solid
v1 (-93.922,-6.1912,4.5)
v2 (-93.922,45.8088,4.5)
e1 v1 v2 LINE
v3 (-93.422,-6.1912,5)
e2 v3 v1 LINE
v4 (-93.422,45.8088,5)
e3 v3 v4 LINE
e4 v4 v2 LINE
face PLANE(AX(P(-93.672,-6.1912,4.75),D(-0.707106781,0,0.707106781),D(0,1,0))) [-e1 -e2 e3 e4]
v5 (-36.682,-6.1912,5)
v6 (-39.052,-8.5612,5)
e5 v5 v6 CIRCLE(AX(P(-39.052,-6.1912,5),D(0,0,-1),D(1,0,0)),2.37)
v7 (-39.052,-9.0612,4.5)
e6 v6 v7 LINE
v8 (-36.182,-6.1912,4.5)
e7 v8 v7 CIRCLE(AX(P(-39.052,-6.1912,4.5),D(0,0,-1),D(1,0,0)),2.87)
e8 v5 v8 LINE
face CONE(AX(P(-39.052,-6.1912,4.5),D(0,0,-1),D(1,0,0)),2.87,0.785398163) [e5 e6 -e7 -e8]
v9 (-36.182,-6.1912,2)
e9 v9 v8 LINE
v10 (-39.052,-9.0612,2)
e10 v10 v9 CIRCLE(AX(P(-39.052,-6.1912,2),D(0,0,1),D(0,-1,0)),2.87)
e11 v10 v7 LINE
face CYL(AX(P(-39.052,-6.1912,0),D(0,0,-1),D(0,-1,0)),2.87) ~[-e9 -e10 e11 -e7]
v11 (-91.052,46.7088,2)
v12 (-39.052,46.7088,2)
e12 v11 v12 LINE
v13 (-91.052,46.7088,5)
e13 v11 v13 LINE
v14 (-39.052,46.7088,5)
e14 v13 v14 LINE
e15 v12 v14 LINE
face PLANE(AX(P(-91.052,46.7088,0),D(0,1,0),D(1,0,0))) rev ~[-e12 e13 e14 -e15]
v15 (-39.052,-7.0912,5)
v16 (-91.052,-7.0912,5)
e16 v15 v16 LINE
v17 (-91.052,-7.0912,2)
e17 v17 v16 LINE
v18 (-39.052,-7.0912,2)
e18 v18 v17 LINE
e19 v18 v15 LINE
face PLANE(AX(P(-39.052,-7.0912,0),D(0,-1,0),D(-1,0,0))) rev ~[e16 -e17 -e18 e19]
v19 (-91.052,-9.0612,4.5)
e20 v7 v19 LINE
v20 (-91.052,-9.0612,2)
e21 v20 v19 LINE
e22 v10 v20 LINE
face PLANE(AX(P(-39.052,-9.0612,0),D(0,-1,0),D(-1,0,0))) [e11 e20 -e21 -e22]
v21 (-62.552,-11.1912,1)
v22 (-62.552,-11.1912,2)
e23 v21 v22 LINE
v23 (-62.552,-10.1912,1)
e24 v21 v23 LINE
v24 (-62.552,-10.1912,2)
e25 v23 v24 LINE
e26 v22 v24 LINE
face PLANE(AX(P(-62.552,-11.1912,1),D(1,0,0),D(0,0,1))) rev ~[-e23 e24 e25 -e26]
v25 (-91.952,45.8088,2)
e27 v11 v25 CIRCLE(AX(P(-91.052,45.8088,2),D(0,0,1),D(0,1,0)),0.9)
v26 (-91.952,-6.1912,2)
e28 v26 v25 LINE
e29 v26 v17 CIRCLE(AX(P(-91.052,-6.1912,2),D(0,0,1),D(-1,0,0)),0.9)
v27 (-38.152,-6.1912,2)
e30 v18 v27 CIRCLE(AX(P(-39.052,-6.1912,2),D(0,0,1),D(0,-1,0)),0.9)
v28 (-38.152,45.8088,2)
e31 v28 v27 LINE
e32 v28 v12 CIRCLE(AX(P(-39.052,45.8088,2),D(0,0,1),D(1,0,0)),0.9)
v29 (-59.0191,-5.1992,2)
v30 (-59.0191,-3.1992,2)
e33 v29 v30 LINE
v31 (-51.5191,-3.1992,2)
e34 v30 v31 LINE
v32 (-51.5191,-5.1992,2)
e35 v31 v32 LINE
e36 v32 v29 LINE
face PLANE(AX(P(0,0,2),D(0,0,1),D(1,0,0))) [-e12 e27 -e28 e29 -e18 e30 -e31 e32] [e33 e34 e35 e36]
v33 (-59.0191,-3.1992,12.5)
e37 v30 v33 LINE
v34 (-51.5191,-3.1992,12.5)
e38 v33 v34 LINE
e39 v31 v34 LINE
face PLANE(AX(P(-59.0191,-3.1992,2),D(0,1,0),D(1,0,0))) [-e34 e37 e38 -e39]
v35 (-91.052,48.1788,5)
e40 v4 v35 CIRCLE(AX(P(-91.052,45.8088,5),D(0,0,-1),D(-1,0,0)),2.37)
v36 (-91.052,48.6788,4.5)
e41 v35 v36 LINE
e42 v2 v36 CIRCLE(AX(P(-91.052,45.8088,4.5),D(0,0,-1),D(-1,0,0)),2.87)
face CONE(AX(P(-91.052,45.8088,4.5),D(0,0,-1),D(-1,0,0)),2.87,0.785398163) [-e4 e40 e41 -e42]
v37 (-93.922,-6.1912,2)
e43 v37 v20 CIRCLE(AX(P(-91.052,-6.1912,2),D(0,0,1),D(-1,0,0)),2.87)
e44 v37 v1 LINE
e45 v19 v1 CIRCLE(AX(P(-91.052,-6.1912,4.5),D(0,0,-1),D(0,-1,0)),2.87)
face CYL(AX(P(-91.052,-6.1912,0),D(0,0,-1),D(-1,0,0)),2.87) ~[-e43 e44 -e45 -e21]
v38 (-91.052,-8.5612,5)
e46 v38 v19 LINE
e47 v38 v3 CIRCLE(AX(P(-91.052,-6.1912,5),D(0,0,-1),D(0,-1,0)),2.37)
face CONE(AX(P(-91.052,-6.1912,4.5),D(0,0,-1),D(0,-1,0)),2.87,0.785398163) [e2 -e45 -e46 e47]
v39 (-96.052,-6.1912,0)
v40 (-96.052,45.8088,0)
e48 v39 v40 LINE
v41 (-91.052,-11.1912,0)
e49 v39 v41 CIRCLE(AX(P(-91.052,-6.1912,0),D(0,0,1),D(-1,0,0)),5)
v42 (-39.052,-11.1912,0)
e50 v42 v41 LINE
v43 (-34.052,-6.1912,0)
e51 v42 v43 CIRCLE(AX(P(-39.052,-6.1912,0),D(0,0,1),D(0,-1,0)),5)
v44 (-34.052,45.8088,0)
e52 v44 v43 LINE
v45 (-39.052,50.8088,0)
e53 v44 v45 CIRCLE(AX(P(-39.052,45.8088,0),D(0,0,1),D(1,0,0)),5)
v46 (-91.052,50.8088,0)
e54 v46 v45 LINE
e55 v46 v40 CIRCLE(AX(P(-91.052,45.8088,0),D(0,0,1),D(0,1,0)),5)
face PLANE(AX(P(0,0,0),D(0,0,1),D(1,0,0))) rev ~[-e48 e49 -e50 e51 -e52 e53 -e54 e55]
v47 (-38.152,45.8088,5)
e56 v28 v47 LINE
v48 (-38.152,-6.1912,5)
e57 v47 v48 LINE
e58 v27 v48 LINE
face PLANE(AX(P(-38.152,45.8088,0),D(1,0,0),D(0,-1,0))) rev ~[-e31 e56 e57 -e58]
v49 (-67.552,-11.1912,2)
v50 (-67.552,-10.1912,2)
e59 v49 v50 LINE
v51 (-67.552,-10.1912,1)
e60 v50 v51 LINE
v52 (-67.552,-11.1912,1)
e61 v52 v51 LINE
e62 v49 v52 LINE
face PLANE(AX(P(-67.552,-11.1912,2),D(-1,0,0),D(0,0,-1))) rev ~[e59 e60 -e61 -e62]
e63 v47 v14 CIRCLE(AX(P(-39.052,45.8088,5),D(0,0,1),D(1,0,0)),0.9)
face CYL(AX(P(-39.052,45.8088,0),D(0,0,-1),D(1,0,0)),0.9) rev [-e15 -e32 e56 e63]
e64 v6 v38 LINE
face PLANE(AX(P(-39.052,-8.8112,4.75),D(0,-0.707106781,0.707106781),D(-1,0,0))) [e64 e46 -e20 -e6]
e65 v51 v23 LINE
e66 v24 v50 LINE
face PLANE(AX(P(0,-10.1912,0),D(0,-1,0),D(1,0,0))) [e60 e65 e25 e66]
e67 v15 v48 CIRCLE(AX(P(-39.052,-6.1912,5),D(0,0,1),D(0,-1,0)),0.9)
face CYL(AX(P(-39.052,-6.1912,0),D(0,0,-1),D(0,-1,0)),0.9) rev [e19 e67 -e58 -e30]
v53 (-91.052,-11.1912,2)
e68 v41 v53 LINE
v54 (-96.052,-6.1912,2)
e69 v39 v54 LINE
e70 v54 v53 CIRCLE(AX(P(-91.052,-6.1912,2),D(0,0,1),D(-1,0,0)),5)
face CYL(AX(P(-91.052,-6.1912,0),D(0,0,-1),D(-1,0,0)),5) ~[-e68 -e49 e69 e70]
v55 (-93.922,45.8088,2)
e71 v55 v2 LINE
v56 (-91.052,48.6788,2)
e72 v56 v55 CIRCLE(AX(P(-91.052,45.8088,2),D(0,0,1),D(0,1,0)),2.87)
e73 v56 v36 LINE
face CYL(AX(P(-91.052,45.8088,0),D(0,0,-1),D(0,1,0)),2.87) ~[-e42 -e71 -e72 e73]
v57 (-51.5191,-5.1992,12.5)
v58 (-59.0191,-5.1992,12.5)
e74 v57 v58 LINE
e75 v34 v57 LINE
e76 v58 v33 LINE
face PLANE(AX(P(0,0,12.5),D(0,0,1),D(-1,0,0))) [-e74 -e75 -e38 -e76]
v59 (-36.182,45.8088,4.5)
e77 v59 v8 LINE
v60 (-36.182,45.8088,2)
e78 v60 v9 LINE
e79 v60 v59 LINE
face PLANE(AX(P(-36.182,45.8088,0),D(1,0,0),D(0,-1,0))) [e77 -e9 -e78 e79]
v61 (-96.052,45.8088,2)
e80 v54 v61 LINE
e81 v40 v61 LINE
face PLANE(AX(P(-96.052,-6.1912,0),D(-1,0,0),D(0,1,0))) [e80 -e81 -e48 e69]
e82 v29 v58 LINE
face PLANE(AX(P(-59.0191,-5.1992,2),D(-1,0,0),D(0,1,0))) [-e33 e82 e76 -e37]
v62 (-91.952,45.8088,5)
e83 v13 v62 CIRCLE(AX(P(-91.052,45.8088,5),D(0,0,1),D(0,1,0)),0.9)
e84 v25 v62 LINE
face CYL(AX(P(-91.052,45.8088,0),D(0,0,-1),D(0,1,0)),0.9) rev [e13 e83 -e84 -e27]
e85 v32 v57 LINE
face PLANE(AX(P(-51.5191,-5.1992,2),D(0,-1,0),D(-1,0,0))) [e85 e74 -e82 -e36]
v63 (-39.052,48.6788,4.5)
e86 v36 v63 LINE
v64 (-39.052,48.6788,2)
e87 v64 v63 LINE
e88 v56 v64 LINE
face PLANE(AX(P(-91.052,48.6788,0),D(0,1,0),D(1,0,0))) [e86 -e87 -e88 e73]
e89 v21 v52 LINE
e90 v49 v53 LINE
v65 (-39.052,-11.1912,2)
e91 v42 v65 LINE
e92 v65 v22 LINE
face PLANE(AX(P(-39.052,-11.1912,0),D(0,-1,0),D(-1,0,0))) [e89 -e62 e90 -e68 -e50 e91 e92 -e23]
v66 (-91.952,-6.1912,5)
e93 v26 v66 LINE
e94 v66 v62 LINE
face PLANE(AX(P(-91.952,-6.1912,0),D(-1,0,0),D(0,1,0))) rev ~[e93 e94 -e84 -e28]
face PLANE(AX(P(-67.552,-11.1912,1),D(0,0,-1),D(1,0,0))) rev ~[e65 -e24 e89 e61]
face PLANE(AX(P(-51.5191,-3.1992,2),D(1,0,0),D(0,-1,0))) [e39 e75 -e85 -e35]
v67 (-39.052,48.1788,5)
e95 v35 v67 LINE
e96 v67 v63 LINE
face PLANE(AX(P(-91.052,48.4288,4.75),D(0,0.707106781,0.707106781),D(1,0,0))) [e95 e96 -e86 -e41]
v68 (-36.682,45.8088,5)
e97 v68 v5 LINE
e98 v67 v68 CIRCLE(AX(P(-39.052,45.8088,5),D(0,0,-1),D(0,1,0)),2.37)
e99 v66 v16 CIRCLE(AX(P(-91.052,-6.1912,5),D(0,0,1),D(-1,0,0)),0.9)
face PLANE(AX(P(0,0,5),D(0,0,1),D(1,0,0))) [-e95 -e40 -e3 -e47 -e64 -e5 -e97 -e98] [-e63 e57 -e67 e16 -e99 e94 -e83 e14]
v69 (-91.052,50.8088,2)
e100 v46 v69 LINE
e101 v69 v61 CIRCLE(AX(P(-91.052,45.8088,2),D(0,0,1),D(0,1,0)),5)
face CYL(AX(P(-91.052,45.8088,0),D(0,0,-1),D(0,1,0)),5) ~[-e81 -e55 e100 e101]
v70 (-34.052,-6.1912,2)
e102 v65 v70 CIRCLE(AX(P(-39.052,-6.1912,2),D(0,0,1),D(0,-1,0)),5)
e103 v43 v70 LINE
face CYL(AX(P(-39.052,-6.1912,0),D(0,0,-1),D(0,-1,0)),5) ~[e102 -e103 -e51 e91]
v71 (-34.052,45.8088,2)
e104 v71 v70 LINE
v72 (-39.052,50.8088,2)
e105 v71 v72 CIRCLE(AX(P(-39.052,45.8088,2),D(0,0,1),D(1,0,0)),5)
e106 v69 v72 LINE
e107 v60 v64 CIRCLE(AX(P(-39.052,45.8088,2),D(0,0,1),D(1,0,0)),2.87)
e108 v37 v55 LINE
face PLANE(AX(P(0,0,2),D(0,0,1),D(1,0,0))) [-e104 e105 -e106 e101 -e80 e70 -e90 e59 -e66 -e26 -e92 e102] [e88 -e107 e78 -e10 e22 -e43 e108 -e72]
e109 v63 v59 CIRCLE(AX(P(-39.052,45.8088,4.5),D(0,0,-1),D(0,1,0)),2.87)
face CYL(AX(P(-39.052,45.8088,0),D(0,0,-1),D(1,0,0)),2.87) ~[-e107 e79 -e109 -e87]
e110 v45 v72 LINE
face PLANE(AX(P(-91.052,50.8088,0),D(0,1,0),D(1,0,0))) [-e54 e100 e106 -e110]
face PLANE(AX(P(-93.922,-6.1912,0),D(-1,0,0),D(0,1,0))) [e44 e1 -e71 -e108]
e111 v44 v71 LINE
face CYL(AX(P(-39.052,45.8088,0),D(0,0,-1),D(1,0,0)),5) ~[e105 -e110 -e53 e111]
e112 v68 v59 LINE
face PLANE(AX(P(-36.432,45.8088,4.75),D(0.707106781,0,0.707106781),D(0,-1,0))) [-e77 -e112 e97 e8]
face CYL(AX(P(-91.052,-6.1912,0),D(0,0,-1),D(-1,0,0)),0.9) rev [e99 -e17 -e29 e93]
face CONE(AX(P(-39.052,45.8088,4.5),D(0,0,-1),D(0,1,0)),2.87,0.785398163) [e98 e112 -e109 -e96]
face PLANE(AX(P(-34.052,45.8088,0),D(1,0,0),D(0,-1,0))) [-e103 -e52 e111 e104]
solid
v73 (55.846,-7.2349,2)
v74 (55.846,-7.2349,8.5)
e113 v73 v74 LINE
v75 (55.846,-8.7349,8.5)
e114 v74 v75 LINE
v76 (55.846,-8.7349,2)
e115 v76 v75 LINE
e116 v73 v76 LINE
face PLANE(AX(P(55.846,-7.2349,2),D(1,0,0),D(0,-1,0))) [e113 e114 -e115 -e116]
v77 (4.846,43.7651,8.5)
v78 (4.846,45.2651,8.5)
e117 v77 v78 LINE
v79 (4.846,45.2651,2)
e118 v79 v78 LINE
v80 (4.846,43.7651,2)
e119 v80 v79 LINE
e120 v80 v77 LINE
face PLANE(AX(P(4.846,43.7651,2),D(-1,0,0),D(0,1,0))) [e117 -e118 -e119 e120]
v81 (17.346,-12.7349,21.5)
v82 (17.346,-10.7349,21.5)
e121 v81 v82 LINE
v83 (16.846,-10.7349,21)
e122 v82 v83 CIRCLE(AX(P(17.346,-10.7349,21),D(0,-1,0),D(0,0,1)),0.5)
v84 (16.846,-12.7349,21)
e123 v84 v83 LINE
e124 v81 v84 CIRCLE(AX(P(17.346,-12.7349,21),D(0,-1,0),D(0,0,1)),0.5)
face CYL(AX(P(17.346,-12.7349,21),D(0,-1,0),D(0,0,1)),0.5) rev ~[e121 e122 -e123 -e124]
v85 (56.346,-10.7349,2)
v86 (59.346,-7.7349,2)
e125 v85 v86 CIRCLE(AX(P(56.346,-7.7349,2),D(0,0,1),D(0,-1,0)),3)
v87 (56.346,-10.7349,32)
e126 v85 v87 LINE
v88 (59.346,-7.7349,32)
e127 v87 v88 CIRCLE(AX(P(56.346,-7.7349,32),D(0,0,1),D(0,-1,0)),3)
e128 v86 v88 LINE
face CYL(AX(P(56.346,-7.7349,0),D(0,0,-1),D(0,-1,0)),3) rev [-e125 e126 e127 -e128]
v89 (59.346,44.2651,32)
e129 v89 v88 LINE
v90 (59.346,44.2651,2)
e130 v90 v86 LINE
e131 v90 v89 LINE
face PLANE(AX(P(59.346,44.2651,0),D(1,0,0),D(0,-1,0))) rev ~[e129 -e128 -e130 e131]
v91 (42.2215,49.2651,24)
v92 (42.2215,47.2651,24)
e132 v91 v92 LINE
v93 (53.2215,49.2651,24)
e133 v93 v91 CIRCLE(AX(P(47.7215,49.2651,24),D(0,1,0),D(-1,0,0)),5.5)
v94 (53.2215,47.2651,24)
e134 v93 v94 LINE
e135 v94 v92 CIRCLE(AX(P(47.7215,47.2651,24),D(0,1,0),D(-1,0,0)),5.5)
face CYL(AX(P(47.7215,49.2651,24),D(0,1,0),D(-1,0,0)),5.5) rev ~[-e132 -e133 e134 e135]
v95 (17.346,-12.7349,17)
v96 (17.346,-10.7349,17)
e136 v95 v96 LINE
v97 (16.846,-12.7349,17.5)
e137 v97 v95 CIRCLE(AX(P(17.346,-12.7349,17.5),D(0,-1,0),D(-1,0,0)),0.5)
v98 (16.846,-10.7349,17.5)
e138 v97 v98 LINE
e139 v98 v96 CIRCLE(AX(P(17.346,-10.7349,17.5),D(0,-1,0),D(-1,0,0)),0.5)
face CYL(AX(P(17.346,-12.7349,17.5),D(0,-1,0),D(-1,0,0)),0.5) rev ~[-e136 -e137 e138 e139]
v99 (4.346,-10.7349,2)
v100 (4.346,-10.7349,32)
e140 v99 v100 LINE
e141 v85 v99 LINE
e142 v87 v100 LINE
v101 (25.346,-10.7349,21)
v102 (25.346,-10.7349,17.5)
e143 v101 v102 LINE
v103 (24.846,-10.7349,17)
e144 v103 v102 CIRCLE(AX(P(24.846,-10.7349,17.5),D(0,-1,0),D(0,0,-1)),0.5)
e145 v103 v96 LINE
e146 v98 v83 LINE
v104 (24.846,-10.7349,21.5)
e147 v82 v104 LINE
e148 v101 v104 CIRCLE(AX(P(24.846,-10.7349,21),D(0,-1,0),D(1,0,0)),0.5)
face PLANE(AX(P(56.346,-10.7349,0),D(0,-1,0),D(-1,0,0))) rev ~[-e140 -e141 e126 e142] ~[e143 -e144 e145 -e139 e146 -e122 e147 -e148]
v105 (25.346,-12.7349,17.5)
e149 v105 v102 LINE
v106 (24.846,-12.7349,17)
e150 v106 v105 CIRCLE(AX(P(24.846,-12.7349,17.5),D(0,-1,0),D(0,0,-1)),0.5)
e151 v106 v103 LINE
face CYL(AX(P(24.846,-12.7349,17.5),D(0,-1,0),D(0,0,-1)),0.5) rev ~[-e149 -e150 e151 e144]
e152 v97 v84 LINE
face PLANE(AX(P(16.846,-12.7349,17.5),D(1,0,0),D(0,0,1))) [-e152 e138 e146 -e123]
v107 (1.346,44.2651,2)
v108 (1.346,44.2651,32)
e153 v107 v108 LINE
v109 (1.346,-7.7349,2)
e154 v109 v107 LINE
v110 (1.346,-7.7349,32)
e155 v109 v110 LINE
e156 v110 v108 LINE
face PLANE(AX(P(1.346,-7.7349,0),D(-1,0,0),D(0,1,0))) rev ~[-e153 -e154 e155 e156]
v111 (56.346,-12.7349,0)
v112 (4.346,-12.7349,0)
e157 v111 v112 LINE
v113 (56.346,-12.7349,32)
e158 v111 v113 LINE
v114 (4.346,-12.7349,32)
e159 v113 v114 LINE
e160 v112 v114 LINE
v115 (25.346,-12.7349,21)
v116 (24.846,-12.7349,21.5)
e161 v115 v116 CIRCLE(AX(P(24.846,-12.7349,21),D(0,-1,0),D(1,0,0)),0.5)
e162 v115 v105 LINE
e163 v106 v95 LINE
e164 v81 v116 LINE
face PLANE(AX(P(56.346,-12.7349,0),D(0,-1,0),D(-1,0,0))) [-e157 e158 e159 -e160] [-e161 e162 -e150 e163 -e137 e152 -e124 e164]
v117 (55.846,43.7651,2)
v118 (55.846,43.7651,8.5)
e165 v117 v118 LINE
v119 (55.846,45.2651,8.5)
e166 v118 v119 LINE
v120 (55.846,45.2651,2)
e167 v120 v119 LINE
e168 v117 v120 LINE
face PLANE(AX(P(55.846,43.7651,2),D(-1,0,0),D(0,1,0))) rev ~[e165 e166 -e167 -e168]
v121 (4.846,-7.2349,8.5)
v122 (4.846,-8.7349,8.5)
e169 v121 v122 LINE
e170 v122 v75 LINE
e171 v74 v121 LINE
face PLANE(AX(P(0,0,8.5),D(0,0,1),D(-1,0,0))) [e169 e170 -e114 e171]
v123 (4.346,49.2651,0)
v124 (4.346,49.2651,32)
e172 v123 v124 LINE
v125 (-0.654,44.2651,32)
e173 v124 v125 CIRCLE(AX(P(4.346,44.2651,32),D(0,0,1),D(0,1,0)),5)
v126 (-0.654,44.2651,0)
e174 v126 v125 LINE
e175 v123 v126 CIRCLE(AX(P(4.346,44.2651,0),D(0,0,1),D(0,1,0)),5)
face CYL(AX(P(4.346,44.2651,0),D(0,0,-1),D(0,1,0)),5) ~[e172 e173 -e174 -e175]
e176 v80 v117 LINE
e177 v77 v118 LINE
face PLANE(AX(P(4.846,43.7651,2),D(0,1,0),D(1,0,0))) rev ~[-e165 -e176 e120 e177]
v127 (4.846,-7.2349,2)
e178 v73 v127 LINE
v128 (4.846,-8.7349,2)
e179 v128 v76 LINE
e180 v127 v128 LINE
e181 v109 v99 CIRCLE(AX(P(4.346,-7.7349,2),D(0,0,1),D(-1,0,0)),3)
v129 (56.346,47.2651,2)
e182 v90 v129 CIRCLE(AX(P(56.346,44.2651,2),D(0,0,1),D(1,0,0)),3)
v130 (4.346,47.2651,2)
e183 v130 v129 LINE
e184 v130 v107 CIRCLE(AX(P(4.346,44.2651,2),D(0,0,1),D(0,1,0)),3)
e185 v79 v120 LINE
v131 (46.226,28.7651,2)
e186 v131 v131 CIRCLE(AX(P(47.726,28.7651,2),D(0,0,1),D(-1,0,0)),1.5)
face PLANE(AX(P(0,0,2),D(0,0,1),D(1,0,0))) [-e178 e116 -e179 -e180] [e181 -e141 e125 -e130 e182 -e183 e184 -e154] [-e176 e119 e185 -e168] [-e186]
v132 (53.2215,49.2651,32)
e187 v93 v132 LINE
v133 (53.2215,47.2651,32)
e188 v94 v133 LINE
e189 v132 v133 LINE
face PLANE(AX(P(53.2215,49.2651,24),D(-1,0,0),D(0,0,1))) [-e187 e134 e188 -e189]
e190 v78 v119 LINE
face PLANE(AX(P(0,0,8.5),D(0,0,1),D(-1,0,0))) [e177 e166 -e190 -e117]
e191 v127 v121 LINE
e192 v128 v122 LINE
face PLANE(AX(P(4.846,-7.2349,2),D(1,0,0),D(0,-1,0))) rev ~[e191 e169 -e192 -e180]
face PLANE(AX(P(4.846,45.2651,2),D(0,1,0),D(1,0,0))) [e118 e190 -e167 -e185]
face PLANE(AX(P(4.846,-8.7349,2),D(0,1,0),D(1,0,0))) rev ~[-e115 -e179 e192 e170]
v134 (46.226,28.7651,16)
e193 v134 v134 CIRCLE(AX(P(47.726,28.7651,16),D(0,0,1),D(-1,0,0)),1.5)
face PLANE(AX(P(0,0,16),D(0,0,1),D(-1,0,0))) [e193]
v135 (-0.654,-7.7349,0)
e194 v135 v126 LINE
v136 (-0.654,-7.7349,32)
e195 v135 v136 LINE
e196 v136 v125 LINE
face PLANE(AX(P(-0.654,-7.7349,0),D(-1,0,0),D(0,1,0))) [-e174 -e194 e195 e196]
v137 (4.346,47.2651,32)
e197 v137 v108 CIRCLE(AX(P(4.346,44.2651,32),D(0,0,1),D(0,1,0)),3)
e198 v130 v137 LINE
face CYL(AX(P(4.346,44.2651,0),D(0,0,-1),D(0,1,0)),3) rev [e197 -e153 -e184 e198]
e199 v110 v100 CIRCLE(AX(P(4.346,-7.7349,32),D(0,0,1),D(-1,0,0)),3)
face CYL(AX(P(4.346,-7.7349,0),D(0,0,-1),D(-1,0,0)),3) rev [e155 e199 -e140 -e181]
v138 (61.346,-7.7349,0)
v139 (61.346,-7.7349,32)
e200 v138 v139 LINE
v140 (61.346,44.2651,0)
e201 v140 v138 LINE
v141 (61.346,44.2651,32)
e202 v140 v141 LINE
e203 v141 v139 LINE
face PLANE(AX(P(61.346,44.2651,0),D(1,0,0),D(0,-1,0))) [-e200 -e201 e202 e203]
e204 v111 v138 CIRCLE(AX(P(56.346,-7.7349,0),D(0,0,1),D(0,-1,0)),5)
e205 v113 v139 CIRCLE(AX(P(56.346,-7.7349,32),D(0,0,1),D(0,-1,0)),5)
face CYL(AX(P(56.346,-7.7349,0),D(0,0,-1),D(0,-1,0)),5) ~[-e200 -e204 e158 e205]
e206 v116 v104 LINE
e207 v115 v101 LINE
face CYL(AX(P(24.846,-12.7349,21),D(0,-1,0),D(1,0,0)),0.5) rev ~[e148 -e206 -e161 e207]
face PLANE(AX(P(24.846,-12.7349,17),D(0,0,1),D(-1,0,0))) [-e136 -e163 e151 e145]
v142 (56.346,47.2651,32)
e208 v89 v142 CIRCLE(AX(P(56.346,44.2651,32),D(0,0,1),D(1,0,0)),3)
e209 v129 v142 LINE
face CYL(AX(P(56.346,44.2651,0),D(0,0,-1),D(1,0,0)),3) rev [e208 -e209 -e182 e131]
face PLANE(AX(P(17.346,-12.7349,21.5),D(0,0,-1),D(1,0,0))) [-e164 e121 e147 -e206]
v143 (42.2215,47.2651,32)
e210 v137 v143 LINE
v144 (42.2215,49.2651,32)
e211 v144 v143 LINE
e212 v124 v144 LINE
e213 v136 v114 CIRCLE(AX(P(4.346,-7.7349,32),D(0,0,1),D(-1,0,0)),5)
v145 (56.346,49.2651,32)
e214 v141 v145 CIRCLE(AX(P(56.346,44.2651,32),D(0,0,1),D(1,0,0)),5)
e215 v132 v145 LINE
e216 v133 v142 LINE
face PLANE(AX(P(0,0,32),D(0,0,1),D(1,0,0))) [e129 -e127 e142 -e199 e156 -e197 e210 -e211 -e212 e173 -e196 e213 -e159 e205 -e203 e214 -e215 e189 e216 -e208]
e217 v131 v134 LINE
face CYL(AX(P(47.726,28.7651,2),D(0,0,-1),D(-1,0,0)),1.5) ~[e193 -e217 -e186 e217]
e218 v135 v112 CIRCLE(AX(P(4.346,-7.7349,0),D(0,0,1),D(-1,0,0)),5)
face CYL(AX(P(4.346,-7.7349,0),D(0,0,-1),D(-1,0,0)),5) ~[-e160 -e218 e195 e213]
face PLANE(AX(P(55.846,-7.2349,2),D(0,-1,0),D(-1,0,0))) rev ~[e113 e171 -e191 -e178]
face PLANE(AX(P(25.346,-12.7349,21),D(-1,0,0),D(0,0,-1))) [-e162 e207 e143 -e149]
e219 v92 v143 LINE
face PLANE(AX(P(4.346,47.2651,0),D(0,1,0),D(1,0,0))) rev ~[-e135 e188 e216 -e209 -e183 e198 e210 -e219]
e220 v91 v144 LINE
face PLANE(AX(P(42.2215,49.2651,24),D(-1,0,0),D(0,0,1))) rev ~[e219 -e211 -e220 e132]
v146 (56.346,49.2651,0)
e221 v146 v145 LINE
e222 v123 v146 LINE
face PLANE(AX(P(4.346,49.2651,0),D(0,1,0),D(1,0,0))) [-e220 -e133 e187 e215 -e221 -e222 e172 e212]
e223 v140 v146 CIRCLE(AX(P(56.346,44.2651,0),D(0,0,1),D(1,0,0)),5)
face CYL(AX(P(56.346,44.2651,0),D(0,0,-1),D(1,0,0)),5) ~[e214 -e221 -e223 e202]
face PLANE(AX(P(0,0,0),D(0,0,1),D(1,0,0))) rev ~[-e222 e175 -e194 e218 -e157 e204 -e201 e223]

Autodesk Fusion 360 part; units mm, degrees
sketch "Skizze1" plane through (0, 0, 0) normal (0, 0, 1) x (1, 0, 0)
  line L0 (4.346, 49.2651) -> (56.346, 49.2651)
  line L1 (61.346, 44.2651) -> (61.346, -7.7349)
  line L2 (56.346, -12.7349) -> (4.346, -12.7349)
  line L3 (-0.654, -7.7349) -> (-0.654, 44.2651)
  arc A0 (4.346, 49.2651) -> (-0.654, 44.2651) centre (4.346, 44.2651) ccw
  arc A1 (61.346, 44.2651) -> (56.346, 49.2651) centre (56.346, 44.2651) ccw
  arc A2 (56.346, -12.7349) -> (61.346, -7.7349) centre (56.346, -7.7349) ccw
  arc A3 (-0.654, -7.7349) -> (4.346, -12.7349) centre (4.346, -7.7349) ccw
  arc A4 (59.346, 44.2651) -> (56.346, 47.2651) centre (56.346, 44.2651) ccw
  line L4 (4.346, 47.2651) -> (56.346, 47.2651)
  arc A5 (4.346, 47.2651) -> (1.346, 44.2651) centre (4.346, 44.2651) ccw
  line L5 (1.346, -7.7349) -> (1.346, 44.2651)
  arc A6 (1.346, -7.7349) -> (4.346, -10.7349) centre (4.346, -7.7349) ccw
  line L6 (56.346, -10.7349) -> (4.346, -10.7349)
  arc A7 (56.346, -10.7349) -> (59.346, -7.7349) centre (56.346, -7.7349) ccw
  line L7 (59.346, 44.2651) -> (59.346, -7.7349)
  point P0 (-0.654, 49.2651)
  point P1 (61.346, 49.2651)
  point P2 (-0.654, -12.7349)
  dimension "d1" = 62
  dimension "d2" = 62
  dimension "d3" = 5
  dimension "d4" = 5
  dimension "d5" = 2
extrude "Extrusion1" add sketch "Skizze1" along normal blind 2 contours A4 L4 A5 L5 A6 L6 A7 L7 makes body 1
extrude "Extrusion2" add sketch "Skizze1" along normal blind 32 bodies 1
sketch "Skizze2" plane through (0, 0, 2) normal (0, 0, 1) x (-1, 0, 0)
  arc A0 (-4.346, -47.2651) -> (-1.346, -44.2651) centre (-4.346, -44.2651) ccw
  line L0 (-1.346, -44.2651) -> (-1.346, 7.7349)
  arc A1 (-1.346, 7.7349) -> (-4.346, 10.7349) centre (-4.346, 7.7349) ccw
  line L1 (-4.346, 10.7349) -> (-56.346, 10.7349)
  arc A2 (-56.346, 10.7349) -> (-59.346, 7.7349) centre (-56.346, 7.7349) ccw
  line L2 (-59.346, 7.7349) -> (-59.346, -44.2651)
  arc A3 (-59.346, -44.2651) -> (-56.346, -47.2651) centre (-56.346, -44.2651) ccw
  line L3 (-56.346, -47.2651) -> (-4.346, -47.2651)
  line L4 (-30.346, -44.2651) -> (-30.346, 7.7349) construction
  line L5 (-55.846, 7.2349) -> (-4.846, 7.2349)
  line L6 (-4.846, -43.7651) -> (-55.846, -43.7651)
  line L7 (-55.846, 7.2349) -> (-4.846, -43.7651) construction
  line L8 (-4.846, 7.2349) -> (-55.846, -43.7651) construction
  line L9 (-47.726, -43.7651) -> (-47.726, 7.2349) construction
  line L10 (-4.846, -28.7651) -> (-55.846, -28.7651) construction
  circle A4 centre (-47.726, -28.7651) radius 1.5
  line L11 (-13.846, 7.2349) -> (-13.846, -43.7651) construction
  line L12 (-22.846, 7.2349) -> (-22.846, -43.7651) construction
  line L13 (-55.846, -43.7651) -> (-55.846, -45.2651)
  line L14 (-4.846, -43.7651) -> (-4.846, -45.2651)
  line L15 (-4.846, -45.2651) -> (-55.846, -45.2651)
  line L16 (-4.846, 7.2349) -> (-4.846, 8.7349)
  line L17 (-55.846, 7.2349) -> (-55.846, 8.7349)
  line L18 (-4.846, 8.7349) -> (-55.846, 8.7349)
  point P0 (-30.346, -18.2651)
  dimension "d10" = -29
  dimension "d11" = 51
  dimension "d12" = 51
  dimension "d17" = 15
  dimension "d18" = 3
  dimension "d50" = 1.5
  dimension "d51" = 1.5
  dimension "d52" = 1.5
  dimension "d53" = 1.5
extrude "Extrusion4" add sketch "Skizze2" along normal blind 14 contours A4 bodies 1
sketch "Skizze4" plane through (0, 49.2651, 0) normal (0, 1, 0) x (-1, 0, 0)
  line L0 (-56.346, 0) -> (-4.346, 0)
  line L1 (-4.346, 0) -> (-4.346, 32)
  line L2 (-4.346, 32) -> (-56.346, 32)
  line L3 (-56.346, 32) -> (-56.346, 0)
  line L4 (-47.7215, 1.9893) -> (-47.7215, 32) construction
  line L5 (-56.346, 2) -> (-4.346, 2) construction
  line L6 (-56.346, 24) -> (-4.346, 24) construction
  circle A0 centre (-47.7215, 24) radius 5.5
  line L7 (-42.2215, 24) -> (-42.2215, 32)
  line L8 (-53.2215, 24) -> (-53.2215, 32)
  dimension "d21" = -2
  dimension "d22" = -24
  dimension "d23" = 11
extrude "Extrusion6" cut sketch "Skizze4" against normal blind 4 contours L2 A0 L7 L8 | A0 bodies 1
sketch "Skizze5" plane through (0, -12.7349, 0) normal (0, -1, 0) x (1, 0, 0)
  line L0 (4.346, 0) -> (56.346, 0)
  line L1 (56.346, 0) -> (56.346, 32)
  line L2 (56.346, 32) -> (4.346, 32)
  line L3 (4.346, 32) -> (4.346, 0)
  line L4 (56.346, 21.5) -> (4.346, 21.5) construction
  line L5 (56.346, 17) -> (4.346, 17) construction
  line L6 (16.846, 32) -> (16.846, 0) construction
  line L7 (25.346, 32) -> (25.346, 0) construction
  line L8 (17.346, 21.5) -> (24.846, 21.5)
  line L9 (25.346, 21) -> (25.346, 17.5)
  line L10 (24.846, 17) -> (17.346, 17)
  line L11 (16.846, 17.5) -> (16.846, 21)
  arc A0 (17.346, 21.5) -> (16.846, 21) centre (17.346, 21) ccw
  arc A1 (25.346, 21) -> (24.846, 21.5) centre (24.846, 21) ccw
  arc A2 (24.846, 17) -> (25.346, 17.5) centre (24.846, 17.5) ccw
  arc A3 (16.846, 17.5) -> (17.346, 17) centre (17.346, 17.5) ccw
  dimension "d58" = -10.5
  dimension "d59" = -15
  dimension "d60" = -12.5
  dimension "d61" = -21
  dimension "d62" = 0.5
sketch "Skizze6" plane through (0, 0, 0) normal (0, 0, 1) x (1, 0, 0)
  line L0 (-91.052, 50.8088) -> (-39.052, 50.8088)
  line L1 (-34.052, 45.8088) -> (-34.052, -6.1912)
  line L2 (-39.052, -11.1912) -> (-91.052, -11.1912)
  line L3 (-96.052, -6.1912) -> (-96.052, 45.8088)
  arc A0 (-91.052, 50.8088) -> (-96.052, 45.8088) centre (-91.052, 45.8088) ccw
  arc A1 (-34.052, 45.8088) -> (-39.052, 50.8088) centre (-39.052, 45.8088) ccw
  arc A2 (-39.052, -11.1912) -> (-34.052, -6.1912) centre (-39.052, -6.1912) ccw
  arc A3 (-96.052, -6.1912) -> (-91.052, -11.1912) centre (-91.052, -6.1912) ccw
  arc A4 (-91.052, 48.6788) -> (-93.922, 45.8088) centre (-91.052, 45.8088) ccw
  line L4 (-93.922, -6.1912) -> (-93.922, 45.8088)
  arc A5 (-93.922, -6.1912) -> (-91.052, -9.0612) centre (-91.052, -6.1912) ccw
  line L5 (-39.052, -9.0612) -> (-91.052, -9.0612)
  arc A6 (-39.052, -9.0612) -> (-36.182, -6.1912) centre (-39.052, -6.1912) ccw
  line L6 (-36.182, 45.8088) -> (-36.182, -6.1912)
  arc A7 (-36.182, 45.8088) -> (-39.052, 48.6788) centre (-39.052, 45.8088) ccw
  line L7 (-91.052, 48.6788) -> (-39.052, 48.6788)
  arc A8 (-91.052, 46.7088) -> (-91.952, 45.8088) centre (-91.052, 45.8088) ccw
  line L8 (-91.952, -6.1912) -> (-91.952, 45.8088)
  arc A9 (-91.952, -6.1912) -> (-91.052, -7.0912) centre (-91.052, -6.1912) ccw
  line L9 (-39.052, -7.0912) -> (-91.052, -7.0912)
  arc A10 (-39.052, -7.0912) -> (-38.152, -6.1912) centre (-39.052, -6.1912) ccw
  line L10 (-38.152, 45.8088) -> (-38.152, -6.1912)
  arc A11 (-38.152, 45.8088) -> (-39.052, 46.7088) centre (-39.052, 45.8088) ccw
  line L11 (-91.052, 46.7088) -> (-39.052, 46.7088)
  line L12 (-78.952, -5.1912) -> (-71.452, -5.1912)
  line L13 (-71.452, -5.1912) -> (-71.452, -3.1912)
  line L14 (-71.452, -3.1912) -> (-78.952, -3.1912)
  line L15 (-78.952, -3.1912) -> (-78.952, -5.1912)
  point P0 (-96.052, 50.8088)
  point P1 (-34.052, 50.8088)
  point P2 (-96.052, -11.1912)
  dimension "d35" = 62
  dimension "d36" = 62
  dimension "d37" = 5
  dimension "d38" = 2.13
  dimension "d39" = 4.1
  dimension "d67" = 7.5
  dimension "d68" = 2
extrude "Extrusion8" add sketch "Skizze6" along normal blind 5 separate body contours A4 L4 A5 L5 A6 L6 A7 L7 makes body 2
extrude "Extrusion9" add sketch "Skizze6" along normal blind 2 contours L0 L1 L2 L3 A0 A1 A2 A3 | A8 L8 A9 L9 A10 L10 A11 L11 | L12 L13 L14 L15 bodies 2
chamfer "Fase1" distance 0.5 angle 45 8 edges at (-93.922, 19.8088, 5) (-93.0814, -8.2206, 5) (-65.052, -9.0612, 5) (-37.0226, -8.2206, 5) (-36.182, 19.8088, 5) (-37.0226, 47.8382, 5) (-65.052, 48.6788, 5) (-93.0814, 47.8382, 5) on bodies 2
sketch "Skizze7" plane through (0, -11.1912, 0) normal (0, -1, 0) x (1, 0, 0)
  line L0 (-91.052, 0) -> (-39.052, 0)
  line L1 (-39.052, 0) -> (-39.052, 2)
  line L2 (-39.052, 2) -> (-91.052, 2)
  line L3 (-91.052, 2) -> (-91.052, 0)
  line L4 (-65.052, 2) -> (-65.052, 0) construction
  line L5 (-39.052, 1) -> (-91.052, 1) construction
  line L6 (-65.052, 1) -> (-62.552, 1)
  line L7 (-62.552, 1) -> (-62.552, 2)
  line L8 (-62.552, 2) -> (-67.552, 2)
  line L9 (-67.552, 2) -> (-67.552, 1)
  line L10 (-67.552, 1) -> (-65.052, 1)
  dimension "d45" = -1
  dimension "d46" = 2.5
  dimension "d47" = 5
extrude "Extrusion10" cut sketch "Skizze7" against normal blind 1 contours L2 L6 L7 L8 L9 L10 bodies 2
extrude "Extrusion11" add sketch "Skizze2" along normal blind 6.5 contours L6 L13 L14 L15 bodies 1
extrude "Extrusion12" add sketch "Skizze2" along normal blind 6.5 contours L5 L16 L17 L18 bodies 1
extrude "Extrusion13" cut sketch "Skizze5" against normal blind 6 contours L8 L9 L10 L11 A0 A1 A2 A3 bodies 1
sketch "Skizze8" plane through (0, 0, 2) normal (0, 0, 1) x (-1, 0, 0)
  arc A0 (91.952, 6.1912) -> (91.052, 7.0912) centre (91.052, 6.1912) ccw
  line L0 (91.052, 7.0912) -> (39.052, 7.0912)
  arc A1 (39.052, 7.0912) -> (38.152, 6.1912) centre (39.052, 6.1912) ccw
  line L1 (38.152, 6.1912) -> (38.152, -45.8088)
  arc A2 (38.152, -45.8088) -> (39.052, -46.7088) centre (39.052, -45.8088) ccw
  line L2 (39.052, -46.7088) -> (91.052, -46.7088)
  arc A3 (91.052, -46.7088) -> (91.952, -45.8088) centre (91.052, -45.8088) ccw
  line L3 (91.952, -45.8088) -> (91.952, 6.1912)
  line L4 (59.0191, 3.1992) -> (51.5191, 3.1992)
  line L5 (51.5191, 3.1992) -> (51.5191, 5.1992)
  line L6 (51.5191, 5.1992) -> (59.0191, 5.1992)
  line L7 (59.0191, 5.1992) -> (59.0191, 3.1992)
  dimension "d71" = 7.5
  dimension "d72" = 2
extrude "Extrusion15" add sketch "Skizze8" along normal blind 10.5 contours L4 L5 L6 L7 bodies 2
